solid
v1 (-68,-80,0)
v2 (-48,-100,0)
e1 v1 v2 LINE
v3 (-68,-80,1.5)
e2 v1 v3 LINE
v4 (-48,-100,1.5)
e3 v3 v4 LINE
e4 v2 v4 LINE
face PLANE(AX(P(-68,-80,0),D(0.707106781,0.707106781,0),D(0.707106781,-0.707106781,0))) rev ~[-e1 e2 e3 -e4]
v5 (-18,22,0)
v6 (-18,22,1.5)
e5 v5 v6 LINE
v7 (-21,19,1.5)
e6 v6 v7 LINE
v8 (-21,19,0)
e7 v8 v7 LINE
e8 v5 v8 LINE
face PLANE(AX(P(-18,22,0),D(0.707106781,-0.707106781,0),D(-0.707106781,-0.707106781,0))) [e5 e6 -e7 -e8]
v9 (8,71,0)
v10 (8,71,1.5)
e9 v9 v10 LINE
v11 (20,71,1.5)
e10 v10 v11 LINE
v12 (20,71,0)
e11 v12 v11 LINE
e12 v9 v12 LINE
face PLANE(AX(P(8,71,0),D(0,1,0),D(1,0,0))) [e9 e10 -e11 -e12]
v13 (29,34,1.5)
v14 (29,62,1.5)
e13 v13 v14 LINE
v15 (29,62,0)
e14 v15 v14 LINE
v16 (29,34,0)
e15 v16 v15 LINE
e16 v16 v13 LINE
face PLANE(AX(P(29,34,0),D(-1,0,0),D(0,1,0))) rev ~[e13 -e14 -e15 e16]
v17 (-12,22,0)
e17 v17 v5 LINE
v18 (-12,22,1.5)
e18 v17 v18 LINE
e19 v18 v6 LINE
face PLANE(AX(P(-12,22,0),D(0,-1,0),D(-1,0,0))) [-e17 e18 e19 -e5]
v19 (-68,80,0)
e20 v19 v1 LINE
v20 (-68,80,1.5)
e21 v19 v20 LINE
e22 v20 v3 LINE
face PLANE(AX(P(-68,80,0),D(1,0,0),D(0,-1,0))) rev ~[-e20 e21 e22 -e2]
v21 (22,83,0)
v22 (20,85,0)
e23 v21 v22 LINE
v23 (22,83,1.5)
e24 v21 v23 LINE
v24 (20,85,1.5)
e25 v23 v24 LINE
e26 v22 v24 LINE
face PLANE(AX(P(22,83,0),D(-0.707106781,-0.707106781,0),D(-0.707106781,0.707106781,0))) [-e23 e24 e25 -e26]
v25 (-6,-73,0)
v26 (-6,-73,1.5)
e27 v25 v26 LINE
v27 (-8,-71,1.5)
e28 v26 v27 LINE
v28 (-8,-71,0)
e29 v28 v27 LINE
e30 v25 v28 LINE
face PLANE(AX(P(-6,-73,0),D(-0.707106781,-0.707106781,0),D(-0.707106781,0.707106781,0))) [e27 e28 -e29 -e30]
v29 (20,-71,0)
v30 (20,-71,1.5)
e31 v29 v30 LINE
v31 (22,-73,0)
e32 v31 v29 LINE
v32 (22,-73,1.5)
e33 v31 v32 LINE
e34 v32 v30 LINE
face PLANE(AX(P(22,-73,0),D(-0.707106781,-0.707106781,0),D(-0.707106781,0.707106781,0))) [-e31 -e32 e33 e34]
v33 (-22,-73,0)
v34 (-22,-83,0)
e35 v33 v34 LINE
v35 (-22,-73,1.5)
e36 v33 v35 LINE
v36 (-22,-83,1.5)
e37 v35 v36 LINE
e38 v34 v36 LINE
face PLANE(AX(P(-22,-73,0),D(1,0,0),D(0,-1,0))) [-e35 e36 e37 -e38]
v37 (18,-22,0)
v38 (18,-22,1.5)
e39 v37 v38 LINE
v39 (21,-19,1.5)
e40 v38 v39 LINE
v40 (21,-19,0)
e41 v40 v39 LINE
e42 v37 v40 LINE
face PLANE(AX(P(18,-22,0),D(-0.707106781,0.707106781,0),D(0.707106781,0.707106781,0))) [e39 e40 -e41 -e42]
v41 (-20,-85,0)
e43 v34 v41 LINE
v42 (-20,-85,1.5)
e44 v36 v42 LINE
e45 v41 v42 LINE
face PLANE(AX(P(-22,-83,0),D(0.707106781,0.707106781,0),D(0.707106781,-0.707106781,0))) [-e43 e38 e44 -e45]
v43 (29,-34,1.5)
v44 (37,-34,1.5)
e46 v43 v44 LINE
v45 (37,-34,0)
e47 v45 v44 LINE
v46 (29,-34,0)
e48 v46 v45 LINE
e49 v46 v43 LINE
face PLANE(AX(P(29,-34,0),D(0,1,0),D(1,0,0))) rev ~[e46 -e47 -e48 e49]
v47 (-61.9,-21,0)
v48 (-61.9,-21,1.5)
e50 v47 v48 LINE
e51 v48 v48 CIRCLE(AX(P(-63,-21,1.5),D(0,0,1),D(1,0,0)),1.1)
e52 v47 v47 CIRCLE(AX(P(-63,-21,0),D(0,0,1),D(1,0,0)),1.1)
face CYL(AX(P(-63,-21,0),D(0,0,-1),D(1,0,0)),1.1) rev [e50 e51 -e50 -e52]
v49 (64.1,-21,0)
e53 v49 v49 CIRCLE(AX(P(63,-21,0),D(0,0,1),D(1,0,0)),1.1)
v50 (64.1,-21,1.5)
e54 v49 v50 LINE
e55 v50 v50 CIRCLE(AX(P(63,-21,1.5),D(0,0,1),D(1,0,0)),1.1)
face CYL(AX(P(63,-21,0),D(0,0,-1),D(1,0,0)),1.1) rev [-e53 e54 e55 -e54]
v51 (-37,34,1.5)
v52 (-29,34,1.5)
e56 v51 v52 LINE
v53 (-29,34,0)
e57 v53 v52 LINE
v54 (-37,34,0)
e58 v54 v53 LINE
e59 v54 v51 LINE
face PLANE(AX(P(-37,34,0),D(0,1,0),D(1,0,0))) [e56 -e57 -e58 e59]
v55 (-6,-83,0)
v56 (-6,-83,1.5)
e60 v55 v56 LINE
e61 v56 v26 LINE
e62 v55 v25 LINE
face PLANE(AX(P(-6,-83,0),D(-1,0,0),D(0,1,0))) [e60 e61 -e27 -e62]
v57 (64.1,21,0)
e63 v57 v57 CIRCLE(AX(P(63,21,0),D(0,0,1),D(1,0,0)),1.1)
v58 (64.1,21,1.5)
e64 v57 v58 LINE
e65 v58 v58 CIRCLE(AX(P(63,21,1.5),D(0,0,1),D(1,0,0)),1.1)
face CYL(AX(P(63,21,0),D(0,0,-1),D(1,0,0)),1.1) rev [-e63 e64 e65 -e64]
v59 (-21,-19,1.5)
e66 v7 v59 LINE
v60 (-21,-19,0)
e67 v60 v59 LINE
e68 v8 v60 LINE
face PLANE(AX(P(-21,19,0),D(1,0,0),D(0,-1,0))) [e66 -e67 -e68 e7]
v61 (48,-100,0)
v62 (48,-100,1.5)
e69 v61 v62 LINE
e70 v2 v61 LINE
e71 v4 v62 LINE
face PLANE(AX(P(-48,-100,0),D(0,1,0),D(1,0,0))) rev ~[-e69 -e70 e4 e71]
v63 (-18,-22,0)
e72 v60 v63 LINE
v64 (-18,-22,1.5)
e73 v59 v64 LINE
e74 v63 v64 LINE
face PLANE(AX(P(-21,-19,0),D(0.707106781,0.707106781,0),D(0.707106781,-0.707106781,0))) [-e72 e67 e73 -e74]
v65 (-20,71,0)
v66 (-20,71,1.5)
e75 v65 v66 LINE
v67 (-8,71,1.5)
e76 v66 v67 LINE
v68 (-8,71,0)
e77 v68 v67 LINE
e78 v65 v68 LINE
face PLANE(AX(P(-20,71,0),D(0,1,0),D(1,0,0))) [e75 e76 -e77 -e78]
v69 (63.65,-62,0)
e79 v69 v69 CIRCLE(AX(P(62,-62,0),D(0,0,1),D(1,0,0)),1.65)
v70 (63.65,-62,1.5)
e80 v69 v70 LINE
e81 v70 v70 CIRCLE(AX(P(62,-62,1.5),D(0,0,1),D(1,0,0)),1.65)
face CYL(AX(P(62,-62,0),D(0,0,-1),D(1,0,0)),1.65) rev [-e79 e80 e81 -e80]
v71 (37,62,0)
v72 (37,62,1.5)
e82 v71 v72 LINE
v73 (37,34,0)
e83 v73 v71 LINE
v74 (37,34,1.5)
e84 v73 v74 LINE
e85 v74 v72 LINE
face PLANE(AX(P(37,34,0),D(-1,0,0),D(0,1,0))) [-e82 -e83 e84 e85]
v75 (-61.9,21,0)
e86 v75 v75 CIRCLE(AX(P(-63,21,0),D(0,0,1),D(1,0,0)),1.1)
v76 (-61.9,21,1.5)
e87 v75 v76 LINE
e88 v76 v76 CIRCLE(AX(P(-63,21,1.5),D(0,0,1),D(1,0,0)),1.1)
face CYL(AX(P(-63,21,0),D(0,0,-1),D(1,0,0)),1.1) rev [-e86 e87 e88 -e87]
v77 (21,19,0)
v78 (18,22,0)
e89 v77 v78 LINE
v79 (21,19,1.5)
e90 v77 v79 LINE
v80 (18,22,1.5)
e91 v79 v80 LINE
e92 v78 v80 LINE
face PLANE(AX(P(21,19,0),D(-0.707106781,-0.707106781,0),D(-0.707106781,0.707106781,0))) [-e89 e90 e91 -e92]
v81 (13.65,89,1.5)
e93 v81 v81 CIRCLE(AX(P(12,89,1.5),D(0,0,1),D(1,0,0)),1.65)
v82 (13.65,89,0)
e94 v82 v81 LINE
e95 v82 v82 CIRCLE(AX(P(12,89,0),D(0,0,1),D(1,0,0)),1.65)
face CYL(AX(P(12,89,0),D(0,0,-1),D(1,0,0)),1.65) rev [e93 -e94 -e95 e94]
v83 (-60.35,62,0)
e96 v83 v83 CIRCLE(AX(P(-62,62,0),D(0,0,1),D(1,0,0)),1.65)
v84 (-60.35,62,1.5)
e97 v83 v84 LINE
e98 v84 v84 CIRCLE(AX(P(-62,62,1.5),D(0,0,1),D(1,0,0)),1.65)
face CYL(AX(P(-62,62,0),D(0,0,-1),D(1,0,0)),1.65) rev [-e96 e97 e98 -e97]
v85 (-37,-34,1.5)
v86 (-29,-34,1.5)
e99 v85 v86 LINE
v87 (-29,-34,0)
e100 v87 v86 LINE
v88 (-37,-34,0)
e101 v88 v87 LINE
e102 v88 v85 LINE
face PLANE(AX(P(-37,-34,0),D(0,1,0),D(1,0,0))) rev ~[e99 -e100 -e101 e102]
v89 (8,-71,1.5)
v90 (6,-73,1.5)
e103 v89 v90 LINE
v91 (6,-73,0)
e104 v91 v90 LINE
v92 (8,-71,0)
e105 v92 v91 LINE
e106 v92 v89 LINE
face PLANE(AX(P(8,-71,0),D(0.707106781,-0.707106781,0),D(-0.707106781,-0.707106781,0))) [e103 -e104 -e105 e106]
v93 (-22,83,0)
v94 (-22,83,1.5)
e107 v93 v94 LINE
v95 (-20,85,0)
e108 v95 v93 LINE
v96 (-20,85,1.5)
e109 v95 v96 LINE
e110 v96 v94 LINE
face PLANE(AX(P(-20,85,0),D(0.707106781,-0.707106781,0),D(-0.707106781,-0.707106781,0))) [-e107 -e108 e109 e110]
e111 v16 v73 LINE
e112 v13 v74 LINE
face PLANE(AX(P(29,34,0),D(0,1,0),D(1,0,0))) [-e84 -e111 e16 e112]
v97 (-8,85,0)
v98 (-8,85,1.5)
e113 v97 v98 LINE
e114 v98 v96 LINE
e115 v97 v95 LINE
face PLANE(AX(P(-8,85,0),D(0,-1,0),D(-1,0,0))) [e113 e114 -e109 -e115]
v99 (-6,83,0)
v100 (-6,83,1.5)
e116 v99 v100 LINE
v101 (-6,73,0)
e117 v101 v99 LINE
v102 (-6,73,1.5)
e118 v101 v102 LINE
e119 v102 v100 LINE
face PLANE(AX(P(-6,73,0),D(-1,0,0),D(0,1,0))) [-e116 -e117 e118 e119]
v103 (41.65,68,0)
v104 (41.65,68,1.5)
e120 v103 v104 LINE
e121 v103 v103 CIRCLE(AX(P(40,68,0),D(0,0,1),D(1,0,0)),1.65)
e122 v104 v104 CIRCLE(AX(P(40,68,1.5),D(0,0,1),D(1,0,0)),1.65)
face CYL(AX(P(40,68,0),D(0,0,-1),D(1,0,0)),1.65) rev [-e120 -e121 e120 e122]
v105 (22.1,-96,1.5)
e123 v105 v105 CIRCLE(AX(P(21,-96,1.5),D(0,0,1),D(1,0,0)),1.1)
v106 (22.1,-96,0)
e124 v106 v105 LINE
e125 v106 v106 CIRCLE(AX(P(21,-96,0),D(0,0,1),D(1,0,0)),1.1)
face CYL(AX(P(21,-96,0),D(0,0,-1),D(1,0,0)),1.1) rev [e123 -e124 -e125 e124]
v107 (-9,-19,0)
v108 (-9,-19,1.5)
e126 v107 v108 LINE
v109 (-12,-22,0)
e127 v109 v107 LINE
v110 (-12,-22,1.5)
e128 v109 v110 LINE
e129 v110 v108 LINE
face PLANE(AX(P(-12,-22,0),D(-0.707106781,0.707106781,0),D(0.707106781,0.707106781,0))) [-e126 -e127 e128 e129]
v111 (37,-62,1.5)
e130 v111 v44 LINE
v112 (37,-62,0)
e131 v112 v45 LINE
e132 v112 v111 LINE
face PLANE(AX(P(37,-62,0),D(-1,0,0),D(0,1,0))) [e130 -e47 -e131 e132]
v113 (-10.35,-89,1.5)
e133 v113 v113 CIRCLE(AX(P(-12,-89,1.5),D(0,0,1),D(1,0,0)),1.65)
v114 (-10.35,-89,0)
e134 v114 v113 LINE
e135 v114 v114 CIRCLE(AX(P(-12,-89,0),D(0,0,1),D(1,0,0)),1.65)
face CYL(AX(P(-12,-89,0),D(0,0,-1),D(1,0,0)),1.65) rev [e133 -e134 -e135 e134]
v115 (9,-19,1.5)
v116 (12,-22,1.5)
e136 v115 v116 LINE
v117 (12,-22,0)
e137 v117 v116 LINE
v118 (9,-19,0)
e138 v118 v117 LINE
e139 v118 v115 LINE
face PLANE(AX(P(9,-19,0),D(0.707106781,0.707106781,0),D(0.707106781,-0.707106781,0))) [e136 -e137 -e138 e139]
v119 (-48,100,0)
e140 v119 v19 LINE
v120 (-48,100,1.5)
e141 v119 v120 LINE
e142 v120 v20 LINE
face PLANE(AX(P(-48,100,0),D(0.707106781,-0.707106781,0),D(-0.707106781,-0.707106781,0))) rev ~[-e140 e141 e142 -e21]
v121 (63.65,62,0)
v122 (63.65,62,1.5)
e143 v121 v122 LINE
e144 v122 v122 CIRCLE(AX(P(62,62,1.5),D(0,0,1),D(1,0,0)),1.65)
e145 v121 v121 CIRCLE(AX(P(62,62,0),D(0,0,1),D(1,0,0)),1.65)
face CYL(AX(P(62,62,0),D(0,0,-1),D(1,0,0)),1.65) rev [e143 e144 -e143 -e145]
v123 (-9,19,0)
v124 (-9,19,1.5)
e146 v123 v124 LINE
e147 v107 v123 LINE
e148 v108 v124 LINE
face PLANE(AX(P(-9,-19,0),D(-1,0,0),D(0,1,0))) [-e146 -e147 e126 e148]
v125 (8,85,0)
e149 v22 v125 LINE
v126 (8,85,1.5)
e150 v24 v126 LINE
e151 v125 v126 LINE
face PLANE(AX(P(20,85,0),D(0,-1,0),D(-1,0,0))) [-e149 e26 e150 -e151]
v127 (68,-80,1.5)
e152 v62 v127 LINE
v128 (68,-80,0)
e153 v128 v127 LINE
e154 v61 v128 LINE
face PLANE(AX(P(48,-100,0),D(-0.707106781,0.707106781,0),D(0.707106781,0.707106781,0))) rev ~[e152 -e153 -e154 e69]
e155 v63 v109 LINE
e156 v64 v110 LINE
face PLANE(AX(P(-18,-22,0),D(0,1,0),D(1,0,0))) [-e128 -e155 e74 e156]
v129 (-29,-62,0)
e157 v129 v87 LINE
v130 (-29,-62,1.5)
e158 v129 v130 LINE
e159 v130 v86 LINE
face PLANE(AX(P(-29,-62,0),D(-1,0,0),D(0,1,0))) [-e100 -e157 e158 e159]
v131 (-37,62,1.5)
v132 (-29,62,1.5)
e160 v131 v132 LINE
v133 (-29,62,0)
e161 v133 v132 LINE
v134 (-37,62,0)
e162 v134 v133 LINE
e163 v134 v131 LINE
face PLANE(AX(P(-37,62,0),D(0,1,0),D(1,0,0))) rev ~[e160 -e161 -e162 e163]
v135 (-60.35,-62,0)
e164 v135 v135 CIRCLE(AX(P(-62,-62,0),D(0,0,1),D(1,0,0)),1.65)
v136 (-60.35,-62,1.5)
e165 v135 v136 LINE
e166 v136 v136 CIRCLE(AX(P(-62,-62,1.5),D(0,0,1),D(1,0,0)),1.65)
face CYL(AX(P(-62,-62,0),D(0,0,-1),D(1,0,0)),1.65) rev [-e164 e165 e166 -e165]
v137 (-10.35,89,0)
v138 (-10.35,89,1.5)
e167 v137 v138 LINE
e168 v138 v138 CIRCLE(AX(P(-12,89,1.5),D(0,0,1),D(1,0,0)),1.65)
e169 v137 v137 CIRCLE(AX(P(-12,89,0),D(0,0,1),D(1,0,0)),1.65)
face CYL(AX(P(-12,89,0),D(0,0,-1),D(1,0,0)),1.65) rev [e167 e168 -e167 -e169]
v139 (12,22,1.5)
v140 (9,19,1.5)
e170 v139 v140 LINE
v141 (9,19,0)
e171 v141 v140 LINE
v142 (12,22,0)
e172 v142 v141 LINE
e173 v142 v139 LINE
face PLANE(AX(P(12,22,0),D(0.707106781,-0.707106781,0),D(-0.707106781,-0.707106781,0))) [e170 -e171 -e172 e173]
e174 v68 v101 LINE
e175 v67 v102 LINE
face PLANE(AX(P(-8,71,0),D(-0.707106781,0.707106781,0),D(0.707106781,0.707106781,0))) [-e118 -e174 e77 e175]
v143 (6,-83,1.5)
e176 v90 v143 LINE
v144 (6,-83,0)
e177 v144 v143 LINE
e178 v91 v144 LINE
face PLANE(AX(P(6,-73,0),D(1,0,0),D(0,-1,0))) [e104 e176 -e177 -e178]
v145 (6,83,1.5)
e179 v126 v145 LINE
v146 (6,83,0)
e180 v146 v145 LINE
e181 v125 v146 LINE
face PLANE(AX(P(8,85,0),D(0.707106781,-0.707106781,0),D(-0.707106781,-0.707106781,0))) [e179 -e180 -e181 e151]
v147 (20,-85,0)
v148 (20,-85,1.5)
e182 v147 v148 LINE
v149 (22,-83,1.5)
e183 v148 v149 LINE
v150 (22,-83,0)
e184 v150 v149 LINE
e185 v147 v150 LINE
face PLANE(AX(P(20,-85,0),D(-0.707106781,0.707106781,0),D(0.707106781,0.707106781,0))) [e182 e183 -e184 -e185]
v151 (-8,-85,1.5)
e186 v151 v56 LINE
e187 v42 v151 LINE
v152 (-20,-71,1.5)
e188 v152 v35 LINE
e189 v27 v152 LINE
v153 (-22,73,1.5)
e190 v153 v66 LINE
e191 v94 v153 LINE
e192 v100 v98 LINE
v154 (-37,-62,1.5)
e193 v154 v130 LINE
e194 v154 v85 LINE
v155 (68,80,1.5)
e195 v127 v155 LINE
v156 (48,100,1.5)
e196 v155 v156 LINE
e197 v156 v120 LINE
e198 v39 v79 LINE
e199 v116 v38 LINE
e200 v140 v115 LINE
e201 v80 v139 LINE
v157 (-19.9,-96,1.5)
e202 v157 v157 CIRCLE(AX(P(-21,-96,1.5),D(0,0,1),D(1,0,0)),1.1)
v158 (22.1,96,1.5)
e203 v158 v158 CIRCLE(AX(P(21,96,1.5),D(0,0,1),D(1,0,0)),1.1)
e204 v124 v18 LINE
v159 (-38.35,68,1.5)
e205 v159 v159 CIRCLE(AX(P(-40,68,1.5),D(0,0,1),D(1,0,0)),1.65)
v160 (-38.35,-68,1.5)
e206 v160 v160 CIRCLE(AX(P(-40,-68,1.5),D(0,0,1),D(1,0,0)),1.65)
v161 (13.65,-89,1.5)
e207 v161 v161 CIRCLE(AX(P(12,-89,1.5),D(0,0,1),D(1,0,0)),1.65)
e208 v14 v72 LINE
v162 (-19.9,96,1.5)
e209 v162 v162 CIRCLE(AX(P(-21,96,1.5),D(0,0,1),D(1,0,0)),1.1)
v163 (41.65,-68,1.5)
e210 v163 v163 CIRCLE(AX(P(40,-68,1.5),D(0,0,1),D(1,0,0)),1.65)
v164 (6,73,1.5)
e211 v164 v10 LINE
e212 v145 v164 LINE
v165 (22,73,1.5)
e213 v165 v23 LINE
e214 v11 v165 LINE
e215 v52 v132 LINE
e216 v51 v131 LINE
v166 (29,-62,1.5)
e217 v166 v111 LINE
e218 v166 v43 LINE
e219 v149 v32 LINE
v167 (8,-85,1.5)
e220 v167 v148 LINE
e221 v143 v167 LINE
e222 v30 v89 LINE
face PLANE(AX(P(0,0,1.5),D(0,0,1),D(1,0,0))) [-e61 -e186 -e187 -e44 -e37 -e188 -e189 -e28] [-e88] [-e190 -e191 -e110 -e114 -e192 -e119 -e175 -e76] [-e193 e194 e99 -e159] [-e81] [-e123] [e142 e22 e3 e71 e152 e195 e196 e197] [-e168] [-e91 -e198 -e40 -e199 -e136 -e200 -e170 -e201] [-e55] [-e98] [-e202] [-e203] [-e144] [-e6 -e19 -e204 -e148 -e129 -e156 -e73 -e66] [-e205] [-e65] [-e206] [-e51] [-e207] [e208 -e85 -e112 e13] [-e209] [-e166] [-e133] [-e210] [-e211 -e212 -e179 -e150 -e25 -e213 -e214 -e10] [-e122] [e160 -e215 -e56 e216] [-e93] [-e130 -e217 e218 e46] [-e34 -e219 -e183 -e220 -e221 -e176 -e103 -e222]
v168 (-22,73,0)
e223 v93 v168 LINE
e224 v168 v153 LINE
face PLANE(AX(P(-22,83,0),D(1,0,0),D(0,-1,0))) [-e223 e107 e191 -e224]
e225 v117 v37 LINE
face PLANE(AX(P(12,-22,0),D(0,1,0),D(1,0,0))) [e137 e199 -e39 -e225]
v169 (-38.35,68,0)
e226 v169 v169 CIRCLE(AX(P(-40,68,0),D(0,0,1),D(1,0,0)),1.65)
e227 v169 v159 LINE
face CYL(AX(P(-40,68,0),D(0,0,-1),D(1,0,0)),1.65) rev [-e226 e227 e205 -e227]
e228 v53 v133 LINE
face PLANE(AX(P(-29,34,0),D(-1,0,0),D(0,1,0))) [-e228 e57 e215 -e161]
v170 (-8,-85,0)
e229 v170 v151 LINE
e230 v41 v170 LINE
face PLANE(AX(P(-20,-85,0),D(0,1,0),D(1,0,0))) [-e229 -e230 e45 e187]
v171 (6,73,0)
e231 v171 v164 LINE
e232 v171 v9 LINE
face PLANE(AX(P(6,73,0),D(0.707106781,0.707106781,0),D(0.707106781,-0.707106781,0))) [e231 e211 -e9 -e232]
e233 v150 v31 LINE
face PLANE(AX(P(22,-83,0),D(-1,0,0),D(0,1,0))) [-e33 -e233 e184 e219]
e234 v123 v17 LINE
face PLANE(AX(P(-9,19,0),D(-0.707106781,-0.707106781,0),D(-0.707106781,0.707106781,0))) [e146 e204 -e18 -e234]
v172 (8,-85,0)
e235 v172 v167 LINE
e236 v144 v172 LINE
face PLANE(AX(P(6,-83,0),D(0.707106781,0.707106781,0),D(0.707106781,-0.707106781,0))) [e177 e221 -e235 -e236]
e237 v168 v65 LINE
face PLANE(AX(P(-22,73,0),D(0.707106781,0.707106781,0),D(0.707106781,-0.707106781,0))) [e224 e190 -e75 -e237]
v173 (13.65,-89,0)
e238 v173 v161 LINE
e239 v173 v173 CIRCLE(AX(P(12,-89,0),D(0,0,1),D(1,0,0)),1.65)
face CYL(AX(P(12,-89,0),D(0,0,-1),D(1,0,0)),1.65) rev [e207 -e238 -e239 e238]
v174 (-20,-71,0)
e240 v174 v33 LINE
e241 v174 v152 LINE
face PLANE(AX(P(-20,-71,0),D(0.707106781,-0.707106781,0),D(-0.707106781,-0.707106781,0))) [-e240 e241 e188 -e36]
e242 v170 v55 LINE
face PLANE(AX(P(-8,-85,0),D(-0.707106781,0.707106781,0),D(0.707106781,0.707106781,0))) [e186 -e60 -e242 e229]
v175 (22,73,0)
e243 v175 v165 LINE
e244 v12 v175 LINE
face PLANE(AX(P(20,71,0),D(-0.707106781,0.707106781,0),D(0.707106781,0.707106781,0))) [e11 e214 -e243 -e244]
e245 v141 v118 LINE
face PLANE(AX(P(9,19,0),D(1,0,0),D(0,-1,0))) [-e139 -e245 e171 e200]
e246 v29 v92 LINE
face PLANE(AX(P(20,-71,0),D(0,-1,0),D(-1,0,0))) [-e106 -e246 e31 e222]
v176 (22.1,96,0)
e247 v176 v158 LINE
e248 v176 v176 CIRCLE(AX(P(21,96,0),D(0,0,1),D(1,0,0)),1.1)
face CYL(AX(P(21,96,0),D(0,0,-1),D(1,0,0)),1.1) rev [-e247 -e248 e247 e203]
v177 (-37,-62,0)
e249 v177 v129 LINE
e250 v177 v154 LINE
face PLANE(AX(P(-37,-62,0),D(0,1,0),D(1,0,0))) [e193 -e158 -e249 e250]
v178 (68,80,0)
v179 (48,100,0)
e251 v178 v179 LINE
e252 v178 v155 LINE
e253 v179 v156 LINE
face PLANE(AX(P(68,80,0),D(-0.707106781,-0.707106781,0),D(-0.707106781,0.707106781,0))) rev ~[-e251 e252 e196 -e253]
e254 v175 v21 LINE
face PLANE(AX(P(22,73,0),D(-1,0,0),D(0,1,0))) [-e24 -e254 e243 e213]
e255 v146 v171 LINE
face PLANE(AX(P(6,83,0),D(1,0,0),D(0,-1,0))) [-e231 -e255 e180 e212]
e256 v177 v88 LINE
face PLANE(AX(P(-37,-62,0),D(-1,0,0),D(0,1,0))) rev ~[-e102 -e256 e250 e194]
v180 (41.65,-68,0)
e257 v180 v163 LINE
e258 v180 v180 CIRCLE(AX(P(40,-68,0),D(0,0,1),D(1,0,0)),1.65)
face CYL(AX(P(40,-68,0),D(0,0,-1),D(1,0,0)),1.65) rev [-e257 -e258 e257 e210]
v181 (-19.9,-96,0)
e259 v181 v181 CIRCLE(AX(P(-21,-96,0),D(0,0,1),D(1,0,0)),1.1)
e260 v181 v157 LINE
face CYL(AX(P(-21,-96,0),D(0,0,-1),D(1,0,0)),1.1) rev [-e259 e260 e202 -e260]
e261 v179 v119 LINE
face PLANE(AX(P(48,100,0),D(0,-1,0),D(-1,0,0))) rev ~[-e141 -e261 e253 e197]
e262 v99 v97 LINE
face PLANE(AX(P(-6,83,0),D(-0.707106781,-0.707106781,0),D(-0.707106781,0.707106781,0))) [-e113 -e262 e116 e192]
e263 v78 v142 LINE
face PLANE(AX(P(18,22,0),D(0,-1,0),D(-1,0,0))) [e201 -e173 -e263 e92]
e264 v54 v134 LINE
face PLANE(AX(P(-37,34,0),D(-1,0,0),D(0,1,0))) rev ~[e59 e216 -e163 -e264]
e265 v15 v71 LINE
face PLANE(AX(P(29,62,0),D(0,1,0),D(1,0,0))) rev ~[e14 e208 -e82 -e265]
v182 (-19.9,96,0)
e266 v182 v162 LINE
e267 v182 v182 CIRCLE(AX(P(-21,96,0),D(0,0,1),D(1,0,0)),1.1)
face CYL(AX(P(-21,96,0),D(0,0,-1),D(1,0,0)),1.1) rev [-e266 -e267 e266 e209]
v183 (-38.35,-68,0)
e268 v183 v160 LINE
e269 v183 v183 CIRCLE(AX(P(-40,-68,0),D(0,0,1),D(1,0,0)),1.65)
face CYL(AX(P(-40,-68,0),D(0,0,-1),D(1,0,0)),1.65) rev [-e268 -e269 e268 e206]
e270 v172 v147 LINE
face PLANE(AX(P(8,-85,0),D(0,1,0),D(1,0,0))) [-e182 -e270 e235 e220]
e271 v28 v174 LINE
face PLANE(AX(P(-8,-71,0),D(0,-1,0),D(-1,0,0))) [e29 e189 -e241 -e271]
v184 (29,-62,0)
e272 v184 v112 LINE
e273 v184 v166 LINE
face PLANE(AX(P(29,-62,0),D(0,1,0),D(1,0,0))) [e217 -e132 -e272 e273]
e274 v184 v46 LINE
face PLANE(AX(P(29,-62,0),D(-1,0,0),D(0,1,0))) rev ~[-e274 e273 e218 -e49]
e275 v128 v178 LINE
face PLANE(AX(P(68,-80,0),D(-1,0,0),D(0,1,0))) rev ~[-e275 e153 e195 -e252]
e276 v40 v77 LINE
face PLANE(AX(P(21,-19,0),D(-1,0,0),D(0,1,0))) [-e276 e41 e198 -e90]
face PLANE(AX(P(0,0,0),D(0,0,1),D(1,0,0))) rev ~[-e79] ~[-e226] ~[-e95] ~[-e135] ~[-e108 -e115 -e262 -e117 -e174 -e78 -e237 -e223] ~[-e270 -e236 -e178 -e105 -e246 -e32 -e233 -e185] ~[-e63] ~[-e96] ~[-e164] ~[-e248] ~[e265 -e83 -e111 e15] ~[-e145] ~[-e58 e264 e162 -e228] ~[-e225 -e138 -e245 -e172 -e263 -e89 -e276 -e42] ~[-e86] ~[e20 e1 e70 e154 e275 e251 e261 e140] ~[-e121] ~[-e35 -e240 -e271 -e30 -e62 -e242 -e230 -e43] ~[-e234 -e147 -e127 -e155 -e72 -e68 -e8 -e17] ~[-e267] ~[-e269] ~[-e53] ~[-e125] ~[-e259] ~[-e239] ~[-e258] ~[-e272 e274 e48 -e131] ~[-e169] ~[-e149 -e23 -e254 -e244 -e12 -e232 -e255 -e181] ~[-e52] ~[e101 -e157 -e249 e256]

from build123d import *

# Parameters (mm, degrees)
SKETCH_1_R            = 1.65
SKETCH_1_W            = 8
SKETCH_1_H            = 28
EXTRUDE_401_DEPTH     = 1.5
SKETCH_3_R            = 1.1
CUT_EXTRUDE_482_DEPTH = 1.5


with BuildPart() as part:
    # 草图1 → Extrude 401 (new body)
    with BuildSketch(Plane.XY):
        Polygon((68, 80), (48, 100), (-48, 100), (-68, 80), (-68, -80), (-48, -100), (48, -100), (68, -80), align=None)
        with Locations((-62, -62)):
            Circle(SKETCH_1_R, mode=Mode.SUBTRACT)
        with Locations((-40, -68)):
            Circle(SKETCH_1_R, mode=Mode.SUBTRACT)
        with Locations((-12, -89)):
            Circle(SKETCH_1_R, mode=Mode.SUBTRACT)
        with Locations((-62, 62)):
            Circle(SKETCH_1_R, mode=Mode.SUBTRACT)
        with Locations((-40, 68)):
            Circle(SKETCH_1_R, mode=Mode.SUBTRACT)
        with Locations((-12, 89)):
            Circle(SKETCH_1_R, mode=Mode.SUBTRACT)
        with Locations((62, -62)):
            Circle(SKETCH_1_R, mode=Mode.SUBTRACT)
        with Locations((40, -68)):
            Circle(SKETCH_1_R, mode=Mode.SUBTRACT)
        with Locations((12, -89)):
            Circle(SKETCH_1_R, mode=Mode.SUBTRACT)
        with Locations((62, 62)):
            Circle(SKETCH_1_R, mode=Mode.SUBTRACT)
        with Locations((40, 68)):
            Circle(SKETCH_1_R, mode=Mode.SUBTRACT)
        with Locations((12, 89)):
            Circle(SKETCH_1_R, mode=Mode.SUBTRACT)
        with Locations((-33, -48)):
            Rectangle(SKETCH_1_W, SKETCH_1_H, mode=Mode.SUBTRACT)
        Polygon((-20, -85), (-8, -85), (-6, -83), (-6, -73), (-8, -71), (-20, -71), (-22, -73), (-22, -83), align=None, mode=Mode.SUBTRACT)
        with Locations((-33, 48)):
            Rectangle(SKETCH_1_W, SKETCH_1_H, mode=Mode.SUBTRACT)
        Polygon((-20, 71), (-8, 71), (-6, 73), (-6, 83), (-8, 85), (-20, 85), (-22, 83), (-22, 73), align=None, mode=Mode.SUBTRACT)
        with Locations((33, -48)):
            Rectangle(SKETCH_1_W, SKETCH_1_H, mode=Mode.SUBTRACT)
        Polygon((8, -85), (20, -85), (22, -83), (22, -73), (20, -71), (8, -71), (6, -73), (6, -83), align=None, mode=Mode.SUBTRACT)
        with Locations((33, 48)):
            Rectangle(SKETCH_1_W, SKETCH_1_H, mode=Mode.SUBTRACT)
        Polygon((8, 71), (20, 71), (22, 73), (22, 83), (20, 85), (8, 85), (6, 83), (6, 73), align=None, mode=Mode.SUBTRACT)
        Polygon((-18, -22), (-12, -22), (-9, -19), (-9, 19), (-12, 22), (-18, 22), (-21, 19), (-21, -19), align=None, mode=Mode.SUBTRACT)
        Polygon((12, -22), (18, -22), (21, -19), (21, 19), (18, 22), (12, 22), (9, 19), (9, -19), align=None, mode=Mode.SUBTRACT)
    extrude(amount=EXTRUDE_401_DEPTH)

    # 草图3 → Cut-Extrude 482 (cut)
    with BuildSketch(Plane.XY):
        with Locations((-63, -21)):
            Circle(SKETCH_3_R)
        with Locations((-21, -96)):
            Circle(SKETCH_3_R)
        with Locations((-63, 21)):
            Circle(SKETCH_3_R)
        with Locations((-21, 96)):
            Circle(SKETCH_3_R)
        with Locations((63, -21)):
            Circle(SKETCH_3_R)
        with Locations((21, -96)):
            Circle(SKETCH_3_R)
        with Locations((63, 21)):
            Circle(SKETCH_3_R)
        with Locations((21, 96)):
            Circle(SKETCH_3_R)
    extrude(amount=CUT_EXTRUDE_482_DEPTH, mode=Mode.SUBTRACT)


solid = part.part
